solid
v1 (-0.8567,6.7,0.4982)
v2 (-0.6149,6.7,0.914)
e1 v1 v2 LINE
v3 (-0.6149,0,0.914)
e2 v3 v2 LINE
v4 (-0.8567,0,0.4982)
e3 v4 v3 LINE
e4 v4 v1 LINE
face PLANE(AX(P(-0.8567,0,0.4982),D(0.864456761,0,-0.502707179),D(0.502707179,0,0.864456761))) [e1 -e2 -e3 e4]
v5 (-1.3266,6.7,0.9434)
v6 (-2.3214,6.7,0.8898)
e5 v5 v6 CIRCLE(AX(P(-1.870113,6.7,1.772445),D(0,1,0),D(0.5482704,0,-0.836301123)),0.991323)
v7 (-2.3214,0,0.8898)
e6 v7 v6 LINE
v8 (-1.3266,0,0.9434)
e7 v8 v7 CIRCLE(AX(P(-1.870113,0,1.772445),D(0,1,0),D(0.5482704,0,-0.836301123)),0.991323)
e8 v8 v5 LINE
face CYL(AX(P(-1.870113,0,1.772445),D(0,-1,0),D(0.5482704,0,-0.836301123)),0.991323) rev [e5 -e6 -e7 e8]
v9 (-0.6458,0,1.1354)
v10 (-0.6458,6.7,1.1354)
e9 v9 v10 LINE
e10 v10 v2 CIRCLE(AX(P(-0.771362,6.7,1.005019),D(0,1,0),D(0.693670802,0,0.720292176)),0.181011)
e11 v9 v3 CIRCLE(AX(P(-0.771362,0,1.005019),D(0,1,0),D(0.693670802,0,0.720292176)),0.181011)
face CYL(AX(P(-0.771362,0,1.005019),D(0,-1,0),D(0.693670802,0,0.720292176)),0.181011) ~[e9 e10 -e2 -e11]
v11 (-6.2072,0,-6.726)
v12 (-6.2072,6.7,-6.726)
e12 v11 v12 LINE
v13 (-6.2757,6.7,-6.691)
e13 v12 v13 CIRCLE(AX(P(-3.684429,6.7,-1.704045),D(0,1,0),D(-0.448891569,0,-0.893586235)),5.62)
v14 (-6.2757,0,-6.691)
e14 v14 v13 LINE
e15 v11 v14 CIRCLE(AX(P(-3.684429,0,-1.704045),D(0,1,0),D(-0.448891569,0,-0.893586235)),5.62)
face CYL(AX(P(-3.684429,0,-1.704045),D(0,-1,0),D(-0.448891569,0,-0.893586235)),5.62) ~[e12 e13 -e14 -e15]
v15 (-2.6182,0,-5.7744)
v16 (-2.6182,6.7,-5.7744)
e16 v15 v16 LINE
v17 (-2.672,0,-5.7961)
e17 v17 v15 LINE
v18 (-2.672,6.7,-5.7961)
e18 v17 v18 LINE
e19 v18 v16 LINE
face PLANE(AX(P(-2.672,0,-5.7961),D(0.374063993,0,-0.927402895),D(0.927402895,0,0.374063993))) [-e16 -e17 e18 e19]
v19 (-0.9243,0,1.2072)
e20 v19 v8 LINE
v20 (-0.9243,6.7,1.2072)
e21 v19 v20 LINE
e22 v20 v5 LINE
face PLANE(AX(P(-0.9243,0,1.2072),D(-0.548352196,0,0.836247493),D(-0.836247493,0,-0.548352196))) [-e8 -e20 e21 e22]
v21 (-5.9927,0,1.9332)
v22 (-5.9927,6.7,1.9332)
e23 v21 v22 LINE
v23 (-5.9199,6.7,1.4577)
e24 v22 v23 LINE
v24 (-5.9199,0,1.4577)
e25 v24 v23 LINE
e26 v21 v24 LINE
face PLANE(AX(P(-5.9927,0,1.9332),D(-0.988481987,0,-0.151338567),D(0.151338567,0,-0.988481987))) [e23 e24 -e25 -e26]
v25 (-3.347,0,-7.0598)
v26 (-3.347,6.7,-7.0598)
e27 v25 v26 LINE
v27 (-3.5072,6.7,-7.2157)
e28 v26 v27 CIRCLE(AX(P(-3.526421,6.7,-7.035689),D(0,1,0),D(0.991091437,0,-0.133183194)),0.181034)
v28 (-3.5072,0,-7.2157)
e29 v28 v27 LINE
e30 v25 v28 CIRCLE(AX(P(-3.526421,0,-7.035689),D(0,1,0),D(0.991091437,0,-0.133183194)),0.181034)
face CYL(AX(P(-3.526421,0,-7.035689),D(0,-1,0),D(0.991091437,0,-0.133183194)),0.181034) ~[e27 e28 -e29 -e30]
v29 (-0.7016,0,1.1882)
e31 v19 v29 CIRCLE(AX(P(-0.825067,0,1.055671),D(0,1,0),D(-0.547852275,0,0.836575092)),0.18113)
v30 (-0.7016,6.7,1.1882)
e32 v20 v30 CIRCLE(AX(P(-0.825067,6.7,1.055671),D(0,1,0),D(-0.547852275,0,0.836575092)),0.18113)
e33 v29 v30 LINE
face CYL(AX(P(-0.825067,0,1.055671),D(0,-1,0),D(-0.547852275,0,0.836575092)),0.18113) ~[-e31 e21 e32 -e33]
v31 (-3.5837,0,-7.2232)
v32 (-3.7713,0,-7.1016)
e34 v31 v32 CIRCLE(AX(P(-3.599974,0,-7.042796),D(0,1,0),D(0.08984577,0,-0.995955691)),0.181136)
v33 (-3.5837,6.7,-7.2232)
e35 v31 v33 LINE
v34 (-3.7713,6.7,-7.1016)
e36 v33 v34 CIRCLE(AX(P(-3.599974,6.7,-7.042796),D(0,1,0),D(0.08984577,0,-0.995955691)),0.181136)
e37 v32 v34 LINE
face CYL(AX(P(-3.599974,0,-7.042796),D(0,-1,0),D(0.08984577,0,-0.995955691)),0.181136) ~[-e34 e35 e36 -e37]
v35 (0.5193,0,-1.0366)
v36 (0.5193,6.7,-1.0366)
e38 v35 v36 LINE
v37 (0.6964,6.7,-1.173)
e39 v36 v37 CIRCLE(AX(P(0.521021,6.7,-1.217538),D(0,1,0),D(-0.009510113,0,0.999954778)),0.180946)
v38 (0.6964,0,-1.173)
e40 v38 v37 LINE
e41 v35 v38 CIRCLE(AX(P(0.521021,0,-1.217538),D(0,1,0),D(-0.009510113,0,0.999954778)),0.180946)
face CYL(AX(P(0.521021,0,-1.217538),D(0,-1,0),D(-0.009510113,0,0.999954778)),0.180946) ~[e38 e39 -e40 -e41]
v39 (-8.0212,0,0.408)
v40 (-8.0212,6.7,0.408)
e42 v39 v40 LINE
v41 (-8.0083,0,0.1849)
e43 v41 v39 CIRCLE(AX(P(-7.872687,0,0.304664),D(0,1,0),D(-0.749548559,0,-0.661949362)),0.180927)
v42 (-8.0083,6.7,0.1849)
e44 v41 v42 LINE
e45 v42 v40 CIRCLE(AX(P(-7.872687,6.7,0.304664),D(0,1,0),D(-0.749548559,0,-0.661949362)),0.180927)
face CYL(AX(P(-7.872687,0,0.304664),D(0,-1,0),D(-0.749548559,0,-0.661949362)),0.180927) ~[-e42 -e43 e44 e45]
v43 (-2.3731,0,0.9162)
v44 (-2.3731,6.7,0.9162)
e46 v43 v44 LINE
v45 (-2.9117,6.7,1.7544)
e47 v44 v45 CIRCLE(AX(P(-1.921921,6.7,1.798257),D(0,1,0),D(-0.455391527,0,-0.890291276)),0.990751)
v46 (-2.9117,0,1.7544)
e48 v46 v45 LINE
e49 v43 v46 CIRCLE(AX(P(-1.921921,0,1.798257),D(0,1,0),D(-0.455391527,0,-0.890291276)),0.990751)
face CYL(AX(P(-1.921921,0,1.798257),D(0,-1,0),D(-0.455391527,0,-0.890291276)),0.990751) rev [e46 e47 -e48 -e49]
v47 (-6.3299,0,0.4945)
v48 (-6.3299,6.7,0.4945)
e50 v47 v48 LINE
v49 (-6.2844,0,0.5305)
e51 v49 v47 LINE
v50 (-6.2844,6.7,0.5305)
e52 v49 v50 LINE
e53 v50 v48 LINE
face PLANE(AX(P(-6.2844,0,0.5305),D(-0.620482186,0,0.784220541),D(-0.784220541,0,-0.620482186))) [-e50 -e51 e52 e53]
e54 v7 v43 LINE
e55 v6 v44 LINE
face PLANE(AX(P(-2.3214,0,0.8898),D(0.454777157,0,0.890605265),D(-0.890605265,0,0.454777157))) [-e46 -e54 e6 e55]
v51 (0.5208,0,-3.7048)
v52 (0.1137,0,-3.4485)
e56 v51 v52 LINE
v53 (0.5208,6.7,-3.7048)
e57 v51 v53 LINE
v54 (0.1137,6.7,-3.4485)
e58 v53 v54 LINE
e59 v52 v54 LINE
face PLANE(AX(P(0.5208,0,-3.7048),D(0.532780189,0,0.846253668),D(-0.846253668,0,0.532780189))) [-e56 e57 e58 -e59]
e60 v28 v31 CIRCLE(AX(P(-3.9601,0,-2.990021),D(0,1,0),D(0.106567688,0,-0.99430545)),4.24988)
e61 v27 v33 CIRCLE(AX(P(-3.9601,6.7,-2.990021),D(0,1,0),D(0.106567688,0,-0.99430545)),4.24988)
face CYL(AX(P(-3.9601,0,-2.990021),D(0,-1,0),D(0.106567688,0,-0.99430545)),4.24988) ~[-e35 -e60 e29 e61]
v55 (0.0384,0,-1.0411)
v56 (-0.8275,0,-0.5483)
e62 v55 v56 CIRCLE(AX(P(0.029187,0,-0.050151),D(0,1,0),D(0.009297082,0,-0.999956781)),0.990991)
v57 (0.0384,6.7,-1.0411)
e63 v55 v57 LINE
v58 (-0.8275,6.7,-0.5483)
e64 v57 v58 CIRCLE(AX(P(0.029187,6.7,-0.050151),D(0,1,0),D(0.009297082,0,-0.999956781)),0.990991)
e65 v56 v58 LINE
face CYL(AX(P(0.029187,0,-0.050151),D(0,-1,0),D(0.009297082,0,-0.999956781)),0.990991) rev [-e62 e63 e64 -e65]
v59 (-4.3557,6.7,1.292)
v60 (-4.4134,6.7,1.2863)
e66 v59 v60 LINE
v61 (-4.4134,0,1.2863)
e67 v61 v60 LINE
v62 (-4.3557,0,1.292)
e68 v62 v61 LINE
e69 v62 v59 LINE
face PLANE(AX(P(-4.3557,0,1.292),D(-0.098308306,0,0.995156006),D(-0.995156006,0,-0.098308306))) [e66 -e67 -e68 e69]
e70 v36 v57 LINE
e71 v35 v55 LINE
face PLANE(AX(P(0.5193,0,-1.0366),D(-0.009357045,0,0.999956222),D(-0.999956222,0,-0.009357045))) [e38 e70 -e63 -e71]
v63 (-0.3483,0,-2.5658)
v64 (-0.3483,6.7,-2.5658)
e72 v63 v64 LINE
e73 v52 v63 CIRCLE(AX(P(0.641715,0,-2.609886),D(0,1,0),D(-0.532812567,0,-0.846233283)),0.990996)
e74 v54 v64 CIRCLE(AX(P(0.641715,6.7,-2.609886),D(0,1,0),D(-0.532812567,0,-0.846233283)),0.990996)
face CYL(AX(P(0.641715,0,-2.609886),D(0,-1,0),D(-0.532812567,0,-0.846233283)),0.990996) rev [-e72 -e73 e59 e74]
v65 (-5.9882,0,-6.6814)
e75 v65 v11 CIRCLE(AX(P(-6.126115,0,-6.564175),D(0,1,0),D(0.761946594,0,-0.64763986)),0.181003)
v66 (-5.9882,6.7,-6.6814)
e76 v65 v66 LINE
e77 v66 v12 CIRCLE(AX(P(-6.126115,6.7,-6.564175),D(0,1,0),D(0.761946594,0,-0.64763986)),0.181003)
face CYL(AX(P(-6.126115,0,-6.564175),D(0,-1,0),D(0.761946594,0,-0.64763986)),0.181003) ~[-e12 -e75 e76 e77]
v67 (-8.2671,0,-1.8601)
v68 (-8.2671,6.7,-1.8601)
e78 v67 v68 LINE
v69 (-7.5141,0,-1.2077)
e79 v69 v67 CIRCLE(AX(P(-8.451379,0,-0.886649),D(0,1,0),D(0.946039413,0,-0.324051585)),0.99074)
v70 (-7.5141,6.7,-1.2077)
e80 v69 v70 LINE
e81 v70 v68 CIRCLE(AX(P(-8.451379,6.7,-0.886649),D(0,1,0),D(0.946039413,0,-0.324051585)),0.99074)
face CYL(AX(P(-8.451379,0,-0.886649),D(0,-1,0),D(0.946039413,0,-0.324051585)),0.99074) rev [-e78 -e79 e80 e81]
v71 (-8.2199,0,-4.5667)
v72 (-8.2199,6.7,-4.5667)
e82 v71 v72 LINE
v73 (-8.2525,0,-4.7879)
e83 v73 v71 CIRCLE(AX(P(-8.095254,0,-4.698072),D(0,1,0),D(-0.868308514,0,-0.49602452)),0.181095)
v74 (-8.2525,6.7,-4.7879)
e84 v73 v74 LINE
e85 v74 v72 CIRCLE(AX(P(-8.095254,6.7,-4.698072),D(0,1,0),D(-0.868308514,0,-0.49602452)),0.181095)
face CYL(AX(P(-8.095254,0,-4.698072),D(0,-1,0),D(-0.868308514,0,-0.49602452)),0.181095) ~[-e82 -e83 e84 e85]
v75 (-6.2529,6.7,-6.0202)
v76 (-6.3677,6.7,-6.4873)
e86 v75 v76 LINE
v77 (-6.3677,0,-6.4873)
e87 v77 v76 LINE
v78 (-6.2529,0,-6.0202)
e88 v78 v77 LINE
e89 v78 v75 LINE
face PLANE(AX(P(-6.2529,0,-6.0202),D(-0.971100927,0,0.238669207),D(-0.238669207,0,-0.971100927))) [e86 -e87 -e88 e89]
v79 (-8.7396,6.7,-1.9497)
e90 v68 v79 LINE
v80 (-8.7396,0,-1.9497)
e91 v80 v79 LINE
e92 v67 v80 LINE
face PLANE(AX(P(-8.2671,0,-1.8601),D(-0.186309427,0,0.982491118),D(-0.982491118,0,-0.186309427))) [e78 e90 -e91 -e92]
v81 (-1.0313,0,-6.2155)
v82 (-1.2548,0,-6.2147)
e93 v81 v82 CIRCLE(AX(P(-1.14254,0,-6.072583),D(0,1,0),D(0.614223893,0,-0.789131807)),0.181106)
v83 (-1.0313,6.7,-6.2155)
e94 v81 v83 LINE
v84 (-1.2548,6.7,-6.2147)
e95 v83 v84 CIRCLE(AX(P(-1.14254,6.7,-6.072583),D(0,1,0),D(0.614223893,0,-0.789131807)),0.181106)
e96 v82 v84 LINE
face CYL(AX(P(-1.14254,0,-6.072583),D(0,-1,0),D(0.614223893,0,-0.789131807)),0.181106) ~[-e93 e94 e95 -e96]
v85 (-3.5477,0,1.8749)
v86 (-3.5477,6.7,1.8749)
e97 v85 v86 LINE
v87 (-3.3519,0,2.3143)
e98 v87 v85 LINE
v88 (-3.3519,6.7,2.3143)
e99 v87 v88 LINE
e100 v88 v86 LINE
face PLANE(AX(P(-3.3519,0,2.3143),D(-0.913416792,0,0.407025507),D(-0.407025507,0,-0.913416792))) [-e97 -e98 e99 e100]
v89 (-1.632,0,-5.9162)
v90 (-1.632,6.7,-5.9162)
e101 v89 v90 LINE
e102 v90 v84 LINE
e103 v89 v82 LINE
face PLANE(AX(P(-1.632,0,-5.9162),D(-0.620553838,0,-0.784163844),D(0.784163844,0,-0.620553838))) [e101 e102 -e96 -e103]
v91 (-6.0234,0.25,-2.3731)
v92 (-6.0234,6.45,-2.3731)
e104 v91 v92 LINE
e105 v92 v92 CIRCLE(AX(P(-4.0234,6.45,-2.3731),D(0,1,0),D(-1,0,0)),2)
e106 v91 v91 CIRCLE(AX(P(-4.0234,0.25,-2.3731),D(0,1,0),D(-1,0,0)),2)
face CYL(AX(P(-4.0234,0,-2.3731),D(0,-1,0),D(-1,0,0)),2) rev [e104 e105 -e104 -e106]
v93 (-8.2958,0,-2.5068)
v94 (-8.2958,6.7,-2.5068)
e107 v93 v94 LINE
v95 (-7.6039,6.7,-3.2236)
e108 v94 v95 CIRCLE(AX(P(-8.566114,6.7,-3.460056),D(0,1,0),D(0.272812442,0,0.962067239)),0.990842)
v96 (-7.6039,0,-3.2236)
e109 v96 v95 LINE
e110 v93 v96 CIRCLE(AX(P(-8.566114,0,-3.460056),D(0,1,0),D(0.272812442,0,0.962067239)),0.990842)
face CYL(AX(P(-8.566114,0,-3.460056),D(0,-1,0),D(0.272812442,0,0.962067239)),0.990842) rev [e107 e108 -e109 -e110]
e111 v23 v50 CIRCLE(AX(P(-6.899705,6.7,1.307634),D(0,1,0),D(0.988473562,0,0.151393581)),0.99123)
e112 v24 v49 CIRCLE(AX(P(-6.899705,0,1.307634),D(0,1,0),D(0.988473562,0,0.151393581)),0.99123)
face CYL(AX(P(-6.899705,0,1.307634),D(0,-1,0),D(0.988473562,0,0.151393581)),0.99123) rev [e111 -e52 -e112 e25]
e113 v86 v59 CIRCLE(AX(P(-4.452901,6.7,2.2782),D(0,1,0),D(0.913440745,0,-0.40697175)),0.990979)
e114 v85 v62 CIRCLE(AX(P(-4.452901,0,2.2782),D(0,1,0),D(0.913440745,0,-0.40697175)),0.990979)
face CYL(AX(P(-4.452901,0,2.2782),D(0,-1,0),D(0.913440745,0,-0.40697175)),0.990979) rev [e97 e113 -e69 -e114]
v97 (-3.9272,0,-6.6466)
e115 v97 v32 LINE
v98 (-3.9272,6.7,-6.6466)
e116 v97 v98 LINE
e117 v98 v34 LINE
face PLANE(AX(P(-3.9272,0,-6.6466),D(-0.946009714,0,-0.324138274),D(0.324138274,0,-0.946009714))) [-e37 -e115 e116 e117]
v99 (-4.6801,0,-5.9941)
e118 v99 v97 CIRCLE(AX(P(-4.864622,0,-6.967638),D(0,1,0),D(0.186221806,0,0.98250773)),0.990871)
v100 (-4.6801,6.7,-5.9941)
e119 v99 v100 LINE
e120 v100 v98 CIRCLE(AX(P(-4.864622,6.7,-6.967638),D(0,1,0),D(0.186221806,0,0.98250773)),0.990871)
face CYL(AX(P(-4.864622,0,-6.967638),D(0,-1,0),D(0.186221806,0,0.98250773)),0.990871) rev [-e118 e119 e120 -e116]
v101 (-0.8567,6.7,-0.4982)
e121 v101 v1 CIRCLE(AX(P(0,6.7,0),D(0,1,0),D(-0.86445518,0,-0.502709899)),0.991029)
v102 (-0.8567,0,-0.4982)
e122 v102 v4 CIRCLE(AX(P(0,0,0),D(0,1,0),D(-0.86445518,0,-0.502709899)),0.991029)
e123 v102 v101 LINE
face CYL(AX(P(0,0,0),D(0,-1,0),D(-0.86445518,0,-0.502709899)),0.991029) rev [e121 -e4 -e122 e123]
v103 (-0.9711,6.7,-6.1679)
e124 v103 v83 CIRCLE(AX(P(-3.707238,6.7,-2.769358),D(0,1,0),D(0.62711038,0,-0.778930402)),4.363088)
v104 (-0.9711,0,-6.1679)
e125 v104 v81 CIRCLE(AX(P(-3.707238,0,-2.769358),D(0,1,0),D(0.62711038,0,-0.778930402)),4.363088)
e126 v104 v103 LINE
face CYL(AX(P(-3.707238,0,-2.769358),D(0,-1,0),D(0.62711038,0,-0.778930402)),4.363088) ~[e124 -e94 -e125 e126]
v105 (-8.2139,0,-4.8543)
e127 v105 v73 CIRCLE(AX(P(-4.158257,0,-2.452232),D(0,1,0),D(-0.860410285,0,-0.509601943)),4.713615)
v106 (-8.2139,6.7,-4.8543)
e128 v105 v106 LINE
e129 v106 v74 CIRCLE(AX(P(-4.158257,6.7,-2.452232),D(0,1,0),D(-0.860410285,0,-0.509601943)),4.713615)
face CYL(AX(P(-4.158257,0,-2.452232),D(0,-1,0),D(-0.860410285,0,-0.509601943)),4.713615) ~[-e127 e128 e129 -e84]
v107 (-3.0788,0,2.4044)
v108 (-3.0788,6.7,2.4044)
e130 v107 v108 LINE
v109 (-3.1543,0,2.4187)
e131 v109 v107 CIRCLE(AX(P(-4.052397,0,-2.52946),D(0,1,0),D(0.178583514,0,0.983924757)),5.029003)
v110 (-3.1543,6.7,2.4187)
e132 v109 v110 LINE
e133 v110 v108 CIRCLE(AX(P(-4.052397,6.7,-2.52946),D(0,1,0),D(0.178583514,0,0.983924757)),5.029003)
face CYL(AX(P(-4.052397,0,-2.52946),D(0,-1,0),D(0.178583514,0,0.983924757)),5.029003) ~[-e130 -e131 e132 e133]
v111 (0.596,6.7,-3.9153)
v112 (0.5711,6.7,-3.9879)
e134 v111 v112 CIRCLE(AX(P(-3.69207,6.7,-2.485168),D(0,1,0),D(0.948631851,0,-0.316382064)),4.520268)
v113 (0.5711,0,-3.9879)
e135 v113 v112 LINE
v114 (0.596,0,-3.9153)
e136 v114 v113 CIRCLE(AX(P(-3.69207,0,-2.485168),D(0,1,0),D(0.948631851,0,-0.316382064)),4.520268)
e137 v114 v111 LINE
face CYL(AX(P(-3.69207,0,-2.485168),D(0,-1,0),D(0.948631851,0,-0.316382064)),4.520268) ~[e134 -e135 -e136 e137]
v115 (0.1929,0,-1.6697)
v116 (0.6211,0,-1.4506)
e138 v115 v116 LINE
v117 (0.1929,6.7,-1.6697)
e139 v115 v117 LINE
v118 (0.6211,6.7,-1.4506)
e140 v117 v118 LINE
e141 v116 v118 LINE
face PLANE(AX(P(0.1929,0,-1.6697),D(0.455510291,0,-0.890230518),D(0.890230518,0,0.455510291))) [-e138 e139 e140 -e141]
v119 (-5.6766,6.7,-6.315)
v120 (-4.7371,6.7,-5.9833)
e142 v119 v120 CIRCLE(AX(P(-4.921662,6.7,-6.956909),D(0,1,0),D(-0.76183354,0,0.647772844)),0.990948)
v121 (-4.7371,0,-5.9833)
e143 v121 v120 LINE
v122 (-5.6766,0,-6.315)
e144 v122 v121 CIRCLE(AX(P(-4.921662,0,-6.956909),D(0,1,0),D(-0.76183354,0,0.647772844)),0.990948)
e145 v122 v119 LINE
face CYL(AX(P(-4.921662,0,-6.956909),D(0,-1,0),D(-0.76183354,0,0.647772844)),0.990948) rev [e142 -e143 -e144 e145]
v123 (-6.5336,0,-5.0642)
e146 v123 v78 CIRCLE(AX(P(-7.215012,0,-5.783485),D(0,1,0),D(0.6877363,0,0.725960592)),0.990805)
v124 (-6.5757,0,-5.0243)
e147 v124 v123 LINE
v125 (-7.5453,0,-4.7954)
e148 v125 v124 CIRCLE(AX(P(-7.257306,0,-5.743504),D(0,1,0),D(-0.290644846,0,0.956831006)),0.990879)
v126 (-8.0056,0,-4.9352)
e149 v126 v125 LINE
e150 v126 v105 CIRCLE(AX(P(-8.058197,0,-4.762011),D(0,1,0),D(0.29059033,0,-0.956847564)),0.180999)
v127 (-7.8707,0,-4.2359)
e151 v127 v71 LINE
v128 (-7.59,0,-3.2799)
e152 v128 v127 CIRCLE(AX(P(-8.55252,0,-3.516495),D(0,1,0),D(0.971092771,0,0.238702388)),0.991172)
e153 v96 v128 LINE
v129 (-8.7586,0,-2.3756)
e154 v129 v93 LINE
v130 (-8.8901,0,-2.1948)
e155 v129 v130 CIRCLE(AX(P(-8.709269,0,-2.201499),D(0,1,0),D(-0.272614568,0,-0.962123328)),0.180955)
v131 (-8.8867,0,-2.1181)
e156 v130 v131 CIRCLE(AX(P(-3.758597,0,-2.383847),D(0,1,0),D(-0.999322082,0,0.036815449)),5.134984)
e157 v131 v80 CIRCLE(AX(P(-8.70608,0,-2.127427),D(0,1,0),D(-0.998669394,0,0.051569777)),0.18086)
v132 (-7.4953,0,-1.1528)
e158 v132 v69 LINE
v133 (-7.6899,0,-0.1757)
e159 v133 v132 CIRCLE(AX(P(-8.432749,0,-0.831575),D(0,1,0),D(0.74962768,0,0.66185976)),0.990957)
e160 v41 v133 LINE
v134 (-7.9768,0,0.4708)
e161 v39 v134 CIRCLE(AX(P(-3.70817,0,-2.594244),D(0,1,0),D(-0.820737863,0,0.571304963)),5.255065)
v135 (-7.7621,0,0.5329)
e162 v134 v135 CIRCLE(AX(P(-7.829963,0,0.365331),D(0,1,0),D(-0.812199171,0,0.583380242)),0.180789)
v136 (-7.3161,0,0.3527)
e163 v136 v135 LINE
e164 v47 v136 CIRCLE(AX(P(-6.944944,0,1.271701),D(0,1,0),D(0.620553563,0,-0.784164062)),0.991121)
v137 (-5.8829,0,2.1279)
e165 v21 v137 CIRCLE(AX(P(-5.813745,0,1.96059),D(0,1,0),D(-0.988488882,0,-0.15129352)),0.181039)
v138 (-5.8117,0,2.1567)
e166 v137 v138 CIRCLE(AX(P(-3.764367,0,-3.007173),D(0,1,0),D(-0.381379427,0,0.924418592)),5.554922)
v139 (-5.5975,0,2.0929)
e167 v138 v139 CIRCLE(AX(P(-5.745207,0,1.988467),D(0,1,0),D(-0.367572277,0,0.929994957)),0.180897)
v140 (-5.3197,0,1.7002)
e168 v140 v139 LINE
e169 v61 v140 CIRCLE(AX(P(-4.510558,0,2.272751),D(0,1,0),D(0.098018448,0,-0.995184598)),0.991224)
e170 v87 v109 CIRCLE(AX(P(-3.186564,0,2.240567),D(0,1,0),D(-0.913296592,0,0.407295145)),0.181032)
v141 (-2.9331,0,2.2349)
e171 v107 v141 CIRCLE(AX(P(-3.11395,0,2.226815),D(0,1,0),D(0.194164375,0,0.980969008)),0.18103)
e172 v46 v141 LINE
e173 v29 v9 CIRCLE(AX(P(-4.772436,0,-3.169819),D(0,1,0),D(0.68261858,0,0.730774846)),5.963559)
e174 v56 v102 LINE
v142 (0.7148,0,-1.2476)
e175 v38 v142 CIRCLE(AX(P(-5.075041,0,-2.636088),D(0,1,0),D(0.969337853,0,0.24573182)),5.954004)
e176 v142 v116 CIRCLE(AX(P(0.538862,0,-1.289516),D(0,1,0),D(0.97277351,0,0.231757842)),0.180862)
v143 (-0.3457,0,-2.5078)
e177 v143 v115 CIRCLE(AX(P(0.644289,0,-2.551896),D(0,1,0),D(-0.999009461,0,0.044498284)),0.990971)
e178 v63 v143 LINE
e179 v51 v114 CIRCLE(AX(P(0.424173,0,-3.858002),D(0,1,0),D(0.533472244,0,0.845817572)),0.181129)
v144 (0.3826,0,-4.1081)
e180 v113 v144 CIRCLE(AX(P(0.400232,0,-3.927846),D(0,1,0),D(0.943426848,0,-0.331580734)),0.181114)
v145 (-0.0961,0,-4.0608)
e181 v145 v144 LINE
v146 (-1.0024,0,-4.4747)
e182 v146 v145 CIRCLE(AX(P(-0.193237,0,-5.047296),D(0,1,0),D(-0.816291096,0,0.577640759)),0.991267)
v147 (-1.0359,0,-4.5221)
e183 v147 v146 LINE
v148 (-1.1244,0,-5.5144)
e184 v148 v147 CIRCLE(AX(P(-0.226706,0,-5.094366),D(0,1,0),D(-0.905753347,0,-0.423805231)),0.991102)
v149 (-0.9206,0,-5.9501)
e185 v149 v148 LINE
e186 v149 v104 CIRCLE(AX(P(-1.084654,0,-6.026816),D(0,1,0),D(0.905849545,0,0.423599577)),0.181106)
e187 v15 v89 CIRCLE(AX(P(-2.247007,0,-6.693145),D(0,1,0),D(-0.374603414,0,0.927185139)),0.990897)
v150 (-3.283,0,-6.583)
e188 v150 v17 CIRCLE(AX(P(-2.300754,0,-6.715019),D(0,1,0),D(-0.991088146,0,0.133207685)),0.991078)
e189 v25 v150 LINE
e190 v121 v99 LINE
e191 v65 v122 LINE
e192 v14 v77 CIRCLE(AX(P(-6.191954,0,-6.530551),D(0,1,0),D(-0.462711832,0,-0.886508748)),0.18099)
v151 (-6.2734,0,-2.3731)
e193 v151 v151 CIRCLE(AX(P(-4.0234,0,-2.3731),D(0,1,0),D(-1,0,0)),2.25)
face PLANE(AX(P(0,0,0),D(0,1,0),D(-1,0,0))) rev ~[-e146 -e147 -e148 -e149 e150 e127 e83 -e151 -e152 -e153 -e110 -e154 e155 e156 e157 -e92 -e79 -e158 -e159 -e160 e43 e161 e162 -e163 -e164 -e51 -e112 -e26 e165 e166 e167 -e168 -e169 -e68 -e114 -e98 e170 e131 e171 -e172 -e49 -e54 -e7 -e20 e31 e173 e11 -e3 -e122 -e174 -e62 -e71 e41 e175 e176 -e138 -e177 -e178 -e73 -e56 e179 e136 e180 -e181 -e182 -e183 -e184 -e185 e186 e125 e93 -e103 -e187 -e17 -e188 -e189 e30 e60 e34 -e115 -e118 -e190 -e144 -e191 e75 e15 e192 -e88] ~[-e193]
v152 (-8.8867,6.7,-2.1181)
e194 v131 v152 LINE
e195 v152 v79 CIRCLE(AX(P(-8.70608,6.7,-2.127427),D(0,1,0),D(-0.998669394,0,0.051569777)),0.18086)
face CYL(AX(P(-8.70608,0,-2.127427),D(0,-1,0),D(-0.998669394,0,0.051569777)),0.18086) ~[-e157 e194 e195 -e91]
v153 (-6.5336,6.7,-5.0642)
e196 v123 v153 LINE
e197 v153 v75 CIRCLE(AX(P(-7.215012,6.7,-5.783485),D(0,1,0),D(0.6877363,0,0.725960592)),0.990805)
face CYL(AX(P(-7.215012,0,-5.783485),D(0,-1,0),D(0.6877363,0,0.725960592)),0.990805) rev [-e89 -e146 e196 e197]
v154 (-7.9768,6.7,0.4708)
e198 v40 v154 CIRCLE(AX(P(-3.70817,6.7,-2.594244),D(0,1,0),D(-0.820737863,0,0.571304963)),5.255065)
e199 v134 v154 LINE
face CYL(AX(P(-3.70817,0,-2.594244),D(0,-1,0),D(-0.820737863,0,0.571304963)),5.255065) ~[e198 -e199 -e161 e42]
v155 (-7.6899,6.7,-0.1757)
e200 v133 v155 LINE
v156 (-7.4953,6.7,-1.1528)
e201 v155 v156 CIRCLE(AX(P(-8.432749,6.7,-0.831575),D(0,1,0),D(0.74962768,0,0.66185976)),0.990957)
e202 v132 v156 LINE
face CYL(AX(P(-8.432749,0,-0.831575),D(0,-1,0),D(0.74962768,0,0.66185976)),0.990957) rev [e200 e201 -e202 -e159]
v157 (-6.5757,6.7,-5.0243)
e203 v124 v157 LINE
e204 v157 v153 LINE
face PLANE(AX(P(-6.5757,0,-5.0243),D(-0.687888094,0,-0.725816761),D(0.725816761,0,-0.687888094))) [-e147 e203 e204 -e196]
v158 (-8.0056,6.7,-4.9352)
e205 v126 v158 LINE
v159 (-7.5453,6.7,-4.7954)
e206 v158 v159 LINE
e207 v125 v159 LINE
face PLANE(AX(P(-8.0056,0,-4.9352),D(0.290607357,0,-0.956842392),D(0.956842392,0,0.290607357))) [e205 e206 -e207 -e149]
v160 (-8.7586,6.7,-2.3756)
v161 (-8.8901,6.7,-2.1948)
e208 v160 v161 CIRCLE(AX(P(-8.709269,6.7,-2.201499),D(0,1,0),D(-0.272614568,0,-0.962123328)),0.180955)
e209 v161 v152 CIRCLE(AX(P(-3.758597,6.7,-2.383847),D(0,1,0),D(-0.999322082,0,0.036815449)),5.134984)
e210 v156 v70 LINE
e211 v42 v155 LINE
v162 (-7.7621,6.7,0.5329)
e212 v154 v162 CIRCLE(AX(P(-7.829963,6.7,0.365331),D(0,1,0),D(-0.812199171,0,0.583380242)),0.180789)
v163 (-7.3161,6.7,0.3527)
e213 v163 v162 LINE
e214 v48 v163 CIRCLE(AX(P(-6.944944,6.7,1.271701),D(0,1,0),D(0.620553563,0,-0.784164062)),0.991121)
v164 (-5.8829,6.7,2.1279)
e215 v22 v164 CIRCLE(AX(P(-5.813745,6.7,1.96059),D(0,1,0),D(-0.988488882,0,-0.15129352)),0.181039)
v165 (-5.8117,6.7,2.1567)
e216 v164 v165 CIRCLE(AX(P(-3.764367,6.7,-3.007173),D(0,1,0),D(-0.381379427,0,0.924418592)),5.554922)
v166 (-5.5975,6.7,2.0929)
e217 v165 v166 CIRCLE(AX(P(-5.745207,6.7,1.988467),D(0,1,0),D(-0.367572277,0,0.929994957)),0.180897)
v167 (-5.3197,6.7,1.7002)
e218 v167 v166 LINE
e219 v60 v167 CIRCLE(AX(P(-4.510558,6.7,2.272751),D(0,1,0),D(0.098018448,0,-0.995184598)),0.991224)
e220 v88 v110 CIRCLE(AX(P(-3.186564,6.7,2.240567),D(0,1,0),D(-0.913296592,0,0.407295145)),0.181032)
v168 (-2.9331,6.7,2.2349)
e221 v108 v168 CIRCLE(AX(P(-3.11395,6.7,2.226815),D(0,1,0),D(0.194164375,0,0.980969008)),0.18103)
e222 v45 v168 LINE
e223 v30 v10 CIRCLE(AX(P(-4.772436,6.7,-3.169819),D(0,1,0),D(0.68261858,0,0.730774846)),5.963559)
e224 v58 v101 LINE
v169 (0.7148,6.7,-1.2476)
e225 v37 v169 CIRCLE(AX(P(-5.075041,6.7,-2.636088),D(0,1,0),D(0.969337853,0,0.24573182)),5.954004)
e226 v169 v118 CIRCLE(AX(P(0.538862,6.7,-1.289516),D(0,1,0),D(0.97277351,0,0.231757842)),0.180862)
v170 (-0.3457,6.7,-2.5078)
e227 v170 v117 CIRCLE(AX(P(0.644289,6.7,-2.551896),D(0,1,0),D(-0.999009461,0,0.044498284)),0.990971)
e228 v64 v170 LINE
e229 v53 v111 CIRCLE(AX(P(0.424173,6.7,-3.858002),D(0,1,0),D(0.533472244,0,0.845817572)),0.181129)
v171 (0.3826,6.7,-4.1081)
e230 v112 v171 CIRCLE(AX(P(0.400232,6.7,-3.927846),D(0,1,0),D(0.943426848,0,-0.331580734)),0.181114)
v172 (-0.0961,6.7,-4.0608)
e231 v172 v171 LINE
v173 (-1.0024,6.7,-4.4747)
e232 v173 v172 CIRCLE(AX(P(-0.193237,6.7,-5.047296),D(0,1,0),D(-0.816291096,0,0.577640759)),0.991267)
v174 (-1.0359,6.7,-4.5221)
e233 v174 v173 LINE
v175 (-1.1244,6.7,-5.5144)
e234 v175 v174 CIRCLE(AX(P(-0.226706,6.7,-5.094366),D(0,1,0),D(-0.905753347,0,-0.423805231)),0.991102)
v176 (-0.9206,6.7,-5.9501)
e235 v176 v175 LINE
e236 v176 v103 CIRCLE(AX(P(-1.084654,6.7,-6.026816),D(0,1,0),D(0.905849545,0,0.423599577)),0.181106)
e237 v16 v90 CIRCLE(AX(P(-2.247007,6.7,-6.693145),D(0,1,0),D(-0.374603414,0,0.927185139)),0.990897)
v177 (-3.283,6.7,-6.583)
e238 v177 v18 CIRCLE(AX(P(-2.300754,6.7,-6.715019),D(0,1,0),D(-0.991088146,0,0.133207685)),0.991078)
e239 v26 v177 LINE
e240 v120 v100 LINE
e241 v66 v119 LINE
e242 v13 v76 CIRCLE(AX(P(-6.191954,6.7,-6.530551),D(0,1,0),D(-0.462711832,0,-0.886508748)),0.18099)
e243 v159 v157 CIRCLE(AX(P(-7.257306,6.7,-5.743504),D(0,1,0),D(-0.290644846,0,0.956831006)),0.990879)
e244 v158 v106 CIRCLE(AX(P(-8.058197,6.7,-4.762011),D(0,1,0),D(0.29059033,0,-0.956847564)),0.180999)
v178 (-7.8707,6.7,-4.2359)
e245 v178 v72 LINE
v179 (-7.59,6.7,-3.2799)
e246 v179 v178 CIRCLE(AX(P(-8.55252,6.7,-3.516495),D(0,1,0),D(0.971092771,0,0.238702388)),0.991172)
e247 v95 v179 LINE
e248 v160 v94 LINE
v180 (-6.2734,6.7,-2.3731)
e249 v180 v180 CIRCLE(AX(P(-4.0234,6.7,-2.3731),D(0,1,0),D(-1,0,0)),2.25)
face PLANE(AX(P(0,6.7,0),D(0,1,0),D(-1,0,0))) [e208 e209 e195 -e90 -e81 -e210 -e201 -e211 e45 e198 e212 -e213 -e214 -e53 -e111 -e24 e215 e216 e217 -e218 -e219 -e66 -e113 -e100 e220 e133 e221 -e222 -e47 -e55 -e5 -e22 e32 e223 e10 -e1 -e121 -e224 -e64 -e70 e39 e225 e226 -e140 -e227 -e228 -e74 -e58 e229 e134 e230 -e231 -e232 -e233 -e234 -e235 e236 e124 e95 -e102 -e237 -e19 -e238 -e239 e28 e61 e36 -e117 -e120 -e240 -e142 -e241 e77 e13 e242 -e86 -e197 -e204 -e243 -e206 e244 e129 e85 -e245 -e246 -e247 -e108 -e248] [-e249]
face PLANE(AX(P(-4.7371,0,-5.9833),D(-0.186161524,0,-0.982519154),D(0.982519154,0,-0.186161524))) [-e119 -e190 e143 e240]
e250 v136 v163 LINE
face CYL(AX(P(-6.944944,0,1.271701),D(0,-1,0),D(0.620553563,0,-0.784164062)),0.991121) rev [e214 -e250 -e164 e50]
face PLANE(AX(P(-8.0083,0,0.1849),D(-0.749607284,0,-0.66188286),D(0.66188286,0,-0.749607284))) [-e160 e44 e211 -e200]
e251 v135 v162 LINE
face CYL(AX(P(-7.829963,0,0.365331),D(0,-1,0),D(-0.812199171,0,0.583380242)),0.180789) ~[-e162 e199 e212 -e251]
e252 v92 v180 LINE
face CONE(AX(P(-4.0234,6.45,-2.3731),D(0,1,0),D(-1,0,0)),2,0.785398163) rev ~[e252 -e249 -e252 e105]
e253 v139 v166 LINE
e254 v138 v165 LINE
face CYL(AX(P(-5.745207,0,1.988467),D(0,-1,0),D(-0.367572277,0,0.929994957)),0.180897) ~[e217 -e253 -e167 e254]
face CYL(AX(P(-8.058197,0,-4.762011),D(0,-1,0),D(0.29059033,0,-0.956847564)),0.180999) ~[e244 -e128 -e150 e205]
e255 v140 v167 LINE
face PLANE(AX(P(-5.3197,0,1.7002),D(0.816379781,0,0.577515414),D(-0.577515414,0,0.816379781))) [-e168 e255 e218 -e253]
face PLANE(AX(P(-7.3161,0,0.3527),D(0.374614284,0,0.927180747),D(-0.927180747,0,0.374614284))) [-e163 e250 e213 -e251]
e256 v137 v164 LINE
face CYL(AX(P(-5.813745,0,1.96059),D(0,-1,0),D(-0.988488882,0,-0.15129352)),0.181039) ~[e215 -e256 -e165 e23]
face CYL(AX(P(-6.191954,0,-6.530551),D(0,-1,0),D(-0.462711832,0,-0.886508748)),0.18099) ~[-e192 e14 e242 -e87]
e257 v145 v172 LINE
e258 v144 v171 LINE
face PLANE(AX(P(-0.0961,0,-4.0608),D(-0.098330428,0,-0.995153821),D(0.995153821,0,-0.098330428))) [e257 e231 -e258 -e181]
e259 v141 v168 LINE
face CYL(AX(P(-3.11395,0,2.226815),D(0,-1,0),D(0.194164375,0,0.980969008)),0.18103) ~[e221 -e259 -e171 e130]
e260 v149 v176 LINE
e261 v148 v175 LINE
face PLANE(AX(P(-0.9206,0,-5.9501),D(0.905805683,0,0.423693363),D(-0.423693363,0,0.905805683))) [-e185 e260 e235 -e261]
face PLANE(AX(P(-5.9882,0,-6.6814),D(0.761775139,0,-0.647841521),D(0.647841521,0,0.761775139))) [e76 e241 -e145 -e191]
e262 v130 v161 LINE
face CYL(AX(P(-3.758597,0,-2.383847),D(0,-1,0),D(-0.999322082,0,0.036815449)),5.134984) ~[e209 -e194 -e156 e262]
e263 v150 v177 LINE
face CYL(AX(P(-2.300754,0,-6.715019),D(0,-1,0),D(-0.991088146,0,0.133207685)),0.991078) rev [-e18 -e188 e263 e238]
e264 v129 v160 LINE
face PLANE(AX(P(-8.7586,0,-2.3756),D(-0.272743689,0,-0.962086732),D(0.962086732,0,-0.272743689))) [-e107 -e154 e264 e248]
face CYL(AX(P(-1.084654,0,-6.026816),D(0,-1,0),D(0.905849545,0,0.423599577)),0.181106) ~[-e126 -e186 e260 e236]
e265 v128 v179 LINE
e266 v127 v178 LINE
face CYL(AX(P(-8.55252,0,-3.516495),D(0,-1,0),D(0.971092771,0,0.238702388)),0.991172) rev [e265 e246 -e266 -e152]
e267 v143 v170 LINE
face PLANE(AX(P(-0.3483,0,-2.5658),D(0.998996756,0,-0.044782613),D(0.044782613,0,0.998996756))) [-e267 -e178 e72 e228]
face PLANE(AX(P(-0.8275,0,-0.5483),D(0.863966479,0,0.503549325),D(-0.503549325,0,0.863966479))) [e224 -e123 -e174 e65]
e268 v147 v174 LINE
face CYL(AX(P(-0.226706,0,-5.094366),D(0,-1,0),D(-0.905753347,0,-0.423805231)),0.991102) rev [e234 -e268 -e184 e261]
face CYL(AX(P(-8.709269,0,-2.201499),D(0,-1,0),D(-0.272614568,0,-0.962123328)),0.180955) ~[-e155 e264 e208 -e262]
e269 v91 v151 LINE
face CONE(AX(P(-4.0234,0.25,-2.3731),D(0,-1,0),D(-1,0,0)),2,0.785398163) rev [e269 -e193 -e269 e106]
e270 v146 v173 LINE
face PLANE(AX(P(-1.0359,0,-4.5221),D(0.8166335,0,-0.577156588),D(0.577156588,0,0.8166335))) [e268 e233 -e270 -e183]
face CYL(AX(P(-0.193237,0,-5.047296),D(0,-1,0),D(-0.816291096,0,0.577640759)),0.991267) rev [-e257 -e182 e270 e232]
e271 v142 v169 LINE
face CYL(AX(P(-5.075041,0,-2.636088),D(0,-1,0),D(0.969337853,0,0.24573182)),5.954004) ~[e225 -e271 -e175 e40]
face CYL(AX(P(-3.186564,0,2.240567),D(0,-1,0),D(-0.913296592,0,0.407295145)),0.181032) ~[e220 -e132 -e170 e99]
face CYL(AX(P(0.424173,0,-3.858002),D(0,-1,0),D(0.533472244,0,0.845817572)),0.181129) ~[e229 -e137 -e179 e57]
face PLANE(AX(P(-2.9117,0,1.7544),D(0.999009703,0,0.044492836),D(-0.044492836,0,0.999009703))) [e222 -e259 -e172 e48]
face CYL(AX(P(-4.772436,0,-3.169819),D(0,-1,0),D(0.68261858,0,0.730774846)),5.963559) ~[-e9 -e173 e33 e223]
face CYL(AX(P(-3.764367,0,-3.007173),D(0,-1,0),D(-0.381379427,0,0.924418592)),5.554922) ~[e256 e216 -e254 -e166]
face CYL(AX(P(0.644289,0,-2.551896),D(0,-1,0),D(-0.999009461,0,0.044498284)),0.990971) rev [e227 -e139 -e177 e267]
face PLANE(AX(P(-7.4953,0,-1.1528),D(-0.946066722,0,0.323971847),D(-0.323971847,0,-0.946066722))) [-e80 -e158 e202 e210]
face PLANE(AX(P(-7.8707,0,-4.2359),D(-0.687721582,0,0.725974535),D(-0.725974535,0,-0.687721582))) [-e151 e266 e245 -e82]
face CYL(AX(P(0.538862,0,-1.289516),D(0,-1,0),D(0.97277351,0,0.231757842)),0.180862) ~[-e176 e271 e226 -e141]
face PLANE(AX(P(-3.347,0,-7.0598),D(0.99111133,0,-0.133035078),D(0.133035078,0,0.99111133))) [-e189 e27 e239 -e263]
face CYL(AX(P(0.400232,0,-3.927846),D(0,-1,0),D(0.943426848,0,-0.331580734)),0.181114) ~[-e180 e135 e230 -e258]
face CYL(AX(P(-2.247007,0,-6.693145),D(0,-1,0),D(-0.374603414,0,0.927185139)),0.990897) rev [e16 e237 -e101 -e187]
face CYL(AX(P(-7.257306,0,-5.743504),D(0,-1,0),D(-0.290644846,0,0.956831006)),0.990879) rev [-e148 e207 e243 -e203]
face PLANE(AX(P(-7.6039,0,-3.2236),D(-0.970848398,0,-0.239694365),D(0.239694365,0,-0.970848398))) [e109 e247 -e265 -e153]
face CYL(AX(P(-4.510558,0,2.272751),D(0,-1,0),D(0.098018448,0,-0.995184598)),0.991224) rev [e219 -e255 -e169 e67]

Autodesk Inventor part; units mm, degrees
ref_plane "YZ Plane" through (0, 0, 0) normal (1, 0, 0) x (0, 1, 0)
ref_plane "XZ Plane" through (0, 0, 0) normal (0, 1, 0) x (-1, 0, 0)
ref_plane "XY Plane" through (0, 0, 0) normal (0, 0, 1) x (1, 0, 0)
sketch "Sketch2" plane through (0, 0, 0) normal (0, 1, 0) x (-1, 0, 0)
  arc A0 (3.5072, -7.2157) -> (3.5837, -7.2232) centre (4.0234, -2.3731) ccw
  arc A1 (3.347, -7.0598) -> (3.5072, -7.2157) centre (3.5264, -7.0357) ccw
  line L0 (3.347, -7.0598) -> (3.283, -6.583)
  arc A2 (3.283, -6.583) -> (2.672, -5.7961) centre (2.3008, -6.715) ccw
  line L1 (2.672, -5.7961) -> (2.6182, -5.7744)
  arc A3 (2.6182, -5.7744) -> (1.632, -5.9162) centre (2.247, -6.6932) ccw
  line L2 (1.632, -5.9162) -> (1.2548, -6.2147)
  arc A4 (1.0313, -6.2155) -> (1.2548, -6.2147) centre (1.1425, -6.0727) ccw
  arc A5 (0.9711, -6.1679) -> (1.0313, -6.2155) centre (4.0234, -2.3731) ccw
  arc A6 (0.9206, -5.9501) -> (0.9711, -6.1679) centre (1.0845, -6.0268) ccw
  line L3 (0.9206, -5.9501) -> (1.1244, -5.5144)
  arc A7 (1.1244, -5.5144) -> (1.0359, -4.5221) centre (0.2269, -5.0944) ccw
  line L4 (1.0359, -4.5221) -> (1.0024, -4.4747)
  arc A8 (1.0024, -4.4747) -> (0.0961, -4.0608) centre (0.1934, -5.0471) ccw
  line L5 (0.0961, -4.0608) -> (-0.3826, -4.1081)
  arc A9 (-0.5711, -3.9879) -> (-0.3826, -4.1081) centre (-0.4003, -3.9279) ccw
  arc A10 (-0.596, -3.9153) -> (-0.5711, -3.9879) centre (4.0234, -2.3731) ccw
  arc A11 (-0.5208, -3.7048) -> (-0.596, -3.9153) centre (-0.4243, -3.8579) ccw
  line L6 (-0.5208, -3.7048) -> (-0.1137, -3.4485)
  arc A12 (-0.1137, -3.4485) -> (0.3483, -2.5658) centre (-0.6417, -2.6099) ccw
  line L7 (0.3483, -2.5658) -> (0.3457, -2.5078)
  arc A13 (0.3457, -2.5078) -> (-0.1929, -1.6697) centre (-0.6443, -2.5519) ccw
  line L8 (-0.1929, -1.6697) -> (-0.6211, -1.4506)
  arc A14 (-0.7148, -1.2476) -> (-0.6211, -1.4506) centre (-0.5387, -1.2895) ccw
  arc A15 (-0.6964, -1.173) -> (-0.7148, -1.2476) centre (4.0234, -2.3731) ccw
  arc A16 (-0.5193, -1.0366) -> (-0.6964, -1.173) centre (-0.521, -1.2176) ccw
  line L9 (-0.5193, -1.0366) -> (-0.0384, -1.0411)
  arc A17 (-0.0384, -1.0411) -> (0.8275, -0.5483) centre (-0.0292, -0.0501) ccw
  line L10 (0.8275, -0.5483) -> (0.8567, -0.4982)
  arc A18 (0.8567, -0.4982) -> (0.8567, 0.4982) centre (0, 0) ccw
  line L11 (0.8567, 0.4982) -> (0.6149, 0.914)
  arc A19 (0.6458, 1.1354) -> (0.6149, 0.914) centre (0.7714, 1.005) ccw
  arc A20 (0.7016, 1.1882) -> (0.6458, 1.1354) centre (4.0234, -2.3731) ccw
  arc A21 (0.9243, 1.2072) -> (0.7016, 1.1882) centre (0.8251, 1.0558) ccw
  line L12 (0.9243, 1.2072) -> (1.3266, 0.9434)
  arc A22 (1.3266, 0.9434) -> (2.3214, 0.8898) centre (1.87, 1.7721) ccw
  line L13 (2.3214, 0.8898) -> (2.3731, 0.9162)
  arc A23 (2.3731, 0.9162) -> (2.9117, 1.7544) centre (1.9217, 1.7985) ccw
  line L14 (2.9117, 1.7544) -> (2.9331, 2.2349)
  arc A24 (3.0788, 2.4044) -> (2.9331, 2.2349) centre (3.1139, 2.2269) ccw
  arc A25 (3.1543, 2.4187) -> (3.0788, 2.4044) centre (4.0234, -2.3731) ccw
  arc A26 (3.3519, 2.3143) -> (3.1543, 2.4187) centre (3.1866, 2.2406) ccw
  line L15 (3.3519, 2.3143) -> (3.5477, 1.8749)
  arc A27 (3.5477, 1.8749) -> (4.3557, 1.292) centre (4.4529, 2.2782) ccw
  line L16 (4.3557, 1.292) -> (4.4134, 1.2863)
  arc A28 (4.4134, 1.2863) -> (5.3197, 1.7002) centre (4.5106, 2.2725) ccw
  line L17 (5.3197, 1.7002) -> (5.5975, 2.0929)
  arc A29 (5.8117, 2.1567) -> (5.5975, 2.0929) centre (5.7452, 1.9883) ccw
  arc A30 (5.8829, 2.1279) -> (5.8117, 2.1567) centre (4.0234, -2.3731) ccw
  arc A31 (5.9927, 1.9332) -> (5.8829, 2.1279) centre (5.8138, 1.9606) ccw
  line L18 (5.9927, 1.9332) -> (5.9199, 1.4577)
  arc A32 (5.9199, 1.4577) -> (6.2844, 0.5305) centre (6.8994, 1.3076) ccw
  line L19 (6.2844, 0.5305) -> (6.3299, 0.4945)
  arc A33 (6.3299, 0.4945) -> (7.3161, 0.3527) centre (6.9449, 1.2716) ccw
  line L20 (7.3161, 0.3527) -> (7.7621, 0.5329)
  arc A34 (7.9768, 0.4708) -> (7.7621, 0.5329) centre (7.8298, 0.3651) ccw
  arc A35 (8.0212, 0.408) -> (7.9768, 0.4708) centre (4.0234, -2.3731) ccw
  arc A36 (8.0083, 0.1849) -> (8.0212, 0.408) centre (7.8726, 0.3047) ccw
  line L21 (8.0083, 0.1849) -> (7.6899, -0.1757)
  arc A37 (7.6899, -0.1757) -> (7.4953, -1.1528) centre (8.4328, -0.8316) ccw
  line L22 (7.4953, -1.1528) -> (7.5141, -1.2077)
  arc A38 (7.5141, -1.2077) -> (8.2671, -1.8601) centre (8.4516, -0.8865) ccw
  line L23 (8.2671, -1.8601) -> (8.7396, -1.9497)
  arc A39 (8.8867, -2.1181) -> (8.7396, -1.9497) centre (8.7059, -2.1275) ccw
  arc A40 (8.8901, -2.1948) -> (8.8867, -2.1181) centre (4.0234, -2.3731) ccw
  arc A41 (8.7586, -2.3756) -> (8.8901, -2.1948) centre (8.7092, -2.2014) ccw
  line L24 (8.7586, -2.3756) -> (8.2958, -2.5068)
  arc A42 (8.2958, -2.5068) -> (7.6039, -3.2236) centre (8.5662, -3.4602) ccw
  line L25 (7.6039, -3.2236) -> (7.59, -3.2799)
  arc A43 (7.59, -3.2799) -> (7.8707, -4.2359) centre (8.5523, -3.5165) ccw
  line L26 (7.8707, -4.2359) -> (8.2199, -4.5667)
  arc A44 (8.2525, -4.7879) -> (8.2199, -4.5667) centre (8.0954, -4.6981) ccw
  arc A45 (8.2139, -4.8543) -> (8.2525, -4.7879) centre (4.0234, -2.3731) ccw
  arc A46 (8.0056, -4.9352) -> (8.2139, -4.8543) centre (8.0582, -4.7621) ccw
  line L27 (8.0056, -4.9352) -> (7.5453, -4.7954)
  arc A47 (7.5453, -4.7954) -> (6.5757, -5.0243) centre (7.2573, -5.7437) ccw
  line L28 (6.5757, -5.0243) -> (6.5336, -5.0642)
  arc A48 (6.5336, -5.0642) -> (6.2529, -6.0202) centre (7.2152, -5.7836) ccw
  line L29 (6.2529, -6.0202) -> (6.3677, -6.4873)
  arc A49 (6.2757, -6.691) -> (6.3677, -6.4873) centre (6.1919, -6.5305) ccw
  arc A50 (6.2072, -6.726) -> (6.2757, -6.691) centre (4.0234, -2.3731) ccw
  arc A51 (5.9882, -6.6814) -> (6.2072, -6.726) centre (6.1261, -6.5642) ccw
  line L30 (5.9882, -6.6814) -> (5.6766, -6.315)
  arc A52 (5.6766, -6.315) -> (4.7371, -5.9833) centre (4.9216, -6.957) ccw
  line L31 (4.7371, -5.9833) -> (4.6801, -5.9941)
  arc A53 (4.6801, -5.9941) -> (3.9272, -6.6466) centre (4.8647, -6.9678) ccw
  line L32 (3.9272, -6.6466) -> (3.7713, -7.1016)
  arc A54 (3.5837, -7.2232) -> (3.7713, -7.1016) centre (3.6, -7.0429) ccw
  circle A55 centre (4.0234, -2.3731) radius 2
  point P0 (4.0234, -2.3731)
  dimension "d1" = 4
extrude "Extrusion1" add sketch "Sketch2" along normal blind 6.7
chamfer "Chamfer1" distance 0.25 angle 45 2 edges at (-2.0234, 6.7, -2.3731) (-2.0234, 0, -2.3731)
properties part number "Pulley HTD 3M 11T"
